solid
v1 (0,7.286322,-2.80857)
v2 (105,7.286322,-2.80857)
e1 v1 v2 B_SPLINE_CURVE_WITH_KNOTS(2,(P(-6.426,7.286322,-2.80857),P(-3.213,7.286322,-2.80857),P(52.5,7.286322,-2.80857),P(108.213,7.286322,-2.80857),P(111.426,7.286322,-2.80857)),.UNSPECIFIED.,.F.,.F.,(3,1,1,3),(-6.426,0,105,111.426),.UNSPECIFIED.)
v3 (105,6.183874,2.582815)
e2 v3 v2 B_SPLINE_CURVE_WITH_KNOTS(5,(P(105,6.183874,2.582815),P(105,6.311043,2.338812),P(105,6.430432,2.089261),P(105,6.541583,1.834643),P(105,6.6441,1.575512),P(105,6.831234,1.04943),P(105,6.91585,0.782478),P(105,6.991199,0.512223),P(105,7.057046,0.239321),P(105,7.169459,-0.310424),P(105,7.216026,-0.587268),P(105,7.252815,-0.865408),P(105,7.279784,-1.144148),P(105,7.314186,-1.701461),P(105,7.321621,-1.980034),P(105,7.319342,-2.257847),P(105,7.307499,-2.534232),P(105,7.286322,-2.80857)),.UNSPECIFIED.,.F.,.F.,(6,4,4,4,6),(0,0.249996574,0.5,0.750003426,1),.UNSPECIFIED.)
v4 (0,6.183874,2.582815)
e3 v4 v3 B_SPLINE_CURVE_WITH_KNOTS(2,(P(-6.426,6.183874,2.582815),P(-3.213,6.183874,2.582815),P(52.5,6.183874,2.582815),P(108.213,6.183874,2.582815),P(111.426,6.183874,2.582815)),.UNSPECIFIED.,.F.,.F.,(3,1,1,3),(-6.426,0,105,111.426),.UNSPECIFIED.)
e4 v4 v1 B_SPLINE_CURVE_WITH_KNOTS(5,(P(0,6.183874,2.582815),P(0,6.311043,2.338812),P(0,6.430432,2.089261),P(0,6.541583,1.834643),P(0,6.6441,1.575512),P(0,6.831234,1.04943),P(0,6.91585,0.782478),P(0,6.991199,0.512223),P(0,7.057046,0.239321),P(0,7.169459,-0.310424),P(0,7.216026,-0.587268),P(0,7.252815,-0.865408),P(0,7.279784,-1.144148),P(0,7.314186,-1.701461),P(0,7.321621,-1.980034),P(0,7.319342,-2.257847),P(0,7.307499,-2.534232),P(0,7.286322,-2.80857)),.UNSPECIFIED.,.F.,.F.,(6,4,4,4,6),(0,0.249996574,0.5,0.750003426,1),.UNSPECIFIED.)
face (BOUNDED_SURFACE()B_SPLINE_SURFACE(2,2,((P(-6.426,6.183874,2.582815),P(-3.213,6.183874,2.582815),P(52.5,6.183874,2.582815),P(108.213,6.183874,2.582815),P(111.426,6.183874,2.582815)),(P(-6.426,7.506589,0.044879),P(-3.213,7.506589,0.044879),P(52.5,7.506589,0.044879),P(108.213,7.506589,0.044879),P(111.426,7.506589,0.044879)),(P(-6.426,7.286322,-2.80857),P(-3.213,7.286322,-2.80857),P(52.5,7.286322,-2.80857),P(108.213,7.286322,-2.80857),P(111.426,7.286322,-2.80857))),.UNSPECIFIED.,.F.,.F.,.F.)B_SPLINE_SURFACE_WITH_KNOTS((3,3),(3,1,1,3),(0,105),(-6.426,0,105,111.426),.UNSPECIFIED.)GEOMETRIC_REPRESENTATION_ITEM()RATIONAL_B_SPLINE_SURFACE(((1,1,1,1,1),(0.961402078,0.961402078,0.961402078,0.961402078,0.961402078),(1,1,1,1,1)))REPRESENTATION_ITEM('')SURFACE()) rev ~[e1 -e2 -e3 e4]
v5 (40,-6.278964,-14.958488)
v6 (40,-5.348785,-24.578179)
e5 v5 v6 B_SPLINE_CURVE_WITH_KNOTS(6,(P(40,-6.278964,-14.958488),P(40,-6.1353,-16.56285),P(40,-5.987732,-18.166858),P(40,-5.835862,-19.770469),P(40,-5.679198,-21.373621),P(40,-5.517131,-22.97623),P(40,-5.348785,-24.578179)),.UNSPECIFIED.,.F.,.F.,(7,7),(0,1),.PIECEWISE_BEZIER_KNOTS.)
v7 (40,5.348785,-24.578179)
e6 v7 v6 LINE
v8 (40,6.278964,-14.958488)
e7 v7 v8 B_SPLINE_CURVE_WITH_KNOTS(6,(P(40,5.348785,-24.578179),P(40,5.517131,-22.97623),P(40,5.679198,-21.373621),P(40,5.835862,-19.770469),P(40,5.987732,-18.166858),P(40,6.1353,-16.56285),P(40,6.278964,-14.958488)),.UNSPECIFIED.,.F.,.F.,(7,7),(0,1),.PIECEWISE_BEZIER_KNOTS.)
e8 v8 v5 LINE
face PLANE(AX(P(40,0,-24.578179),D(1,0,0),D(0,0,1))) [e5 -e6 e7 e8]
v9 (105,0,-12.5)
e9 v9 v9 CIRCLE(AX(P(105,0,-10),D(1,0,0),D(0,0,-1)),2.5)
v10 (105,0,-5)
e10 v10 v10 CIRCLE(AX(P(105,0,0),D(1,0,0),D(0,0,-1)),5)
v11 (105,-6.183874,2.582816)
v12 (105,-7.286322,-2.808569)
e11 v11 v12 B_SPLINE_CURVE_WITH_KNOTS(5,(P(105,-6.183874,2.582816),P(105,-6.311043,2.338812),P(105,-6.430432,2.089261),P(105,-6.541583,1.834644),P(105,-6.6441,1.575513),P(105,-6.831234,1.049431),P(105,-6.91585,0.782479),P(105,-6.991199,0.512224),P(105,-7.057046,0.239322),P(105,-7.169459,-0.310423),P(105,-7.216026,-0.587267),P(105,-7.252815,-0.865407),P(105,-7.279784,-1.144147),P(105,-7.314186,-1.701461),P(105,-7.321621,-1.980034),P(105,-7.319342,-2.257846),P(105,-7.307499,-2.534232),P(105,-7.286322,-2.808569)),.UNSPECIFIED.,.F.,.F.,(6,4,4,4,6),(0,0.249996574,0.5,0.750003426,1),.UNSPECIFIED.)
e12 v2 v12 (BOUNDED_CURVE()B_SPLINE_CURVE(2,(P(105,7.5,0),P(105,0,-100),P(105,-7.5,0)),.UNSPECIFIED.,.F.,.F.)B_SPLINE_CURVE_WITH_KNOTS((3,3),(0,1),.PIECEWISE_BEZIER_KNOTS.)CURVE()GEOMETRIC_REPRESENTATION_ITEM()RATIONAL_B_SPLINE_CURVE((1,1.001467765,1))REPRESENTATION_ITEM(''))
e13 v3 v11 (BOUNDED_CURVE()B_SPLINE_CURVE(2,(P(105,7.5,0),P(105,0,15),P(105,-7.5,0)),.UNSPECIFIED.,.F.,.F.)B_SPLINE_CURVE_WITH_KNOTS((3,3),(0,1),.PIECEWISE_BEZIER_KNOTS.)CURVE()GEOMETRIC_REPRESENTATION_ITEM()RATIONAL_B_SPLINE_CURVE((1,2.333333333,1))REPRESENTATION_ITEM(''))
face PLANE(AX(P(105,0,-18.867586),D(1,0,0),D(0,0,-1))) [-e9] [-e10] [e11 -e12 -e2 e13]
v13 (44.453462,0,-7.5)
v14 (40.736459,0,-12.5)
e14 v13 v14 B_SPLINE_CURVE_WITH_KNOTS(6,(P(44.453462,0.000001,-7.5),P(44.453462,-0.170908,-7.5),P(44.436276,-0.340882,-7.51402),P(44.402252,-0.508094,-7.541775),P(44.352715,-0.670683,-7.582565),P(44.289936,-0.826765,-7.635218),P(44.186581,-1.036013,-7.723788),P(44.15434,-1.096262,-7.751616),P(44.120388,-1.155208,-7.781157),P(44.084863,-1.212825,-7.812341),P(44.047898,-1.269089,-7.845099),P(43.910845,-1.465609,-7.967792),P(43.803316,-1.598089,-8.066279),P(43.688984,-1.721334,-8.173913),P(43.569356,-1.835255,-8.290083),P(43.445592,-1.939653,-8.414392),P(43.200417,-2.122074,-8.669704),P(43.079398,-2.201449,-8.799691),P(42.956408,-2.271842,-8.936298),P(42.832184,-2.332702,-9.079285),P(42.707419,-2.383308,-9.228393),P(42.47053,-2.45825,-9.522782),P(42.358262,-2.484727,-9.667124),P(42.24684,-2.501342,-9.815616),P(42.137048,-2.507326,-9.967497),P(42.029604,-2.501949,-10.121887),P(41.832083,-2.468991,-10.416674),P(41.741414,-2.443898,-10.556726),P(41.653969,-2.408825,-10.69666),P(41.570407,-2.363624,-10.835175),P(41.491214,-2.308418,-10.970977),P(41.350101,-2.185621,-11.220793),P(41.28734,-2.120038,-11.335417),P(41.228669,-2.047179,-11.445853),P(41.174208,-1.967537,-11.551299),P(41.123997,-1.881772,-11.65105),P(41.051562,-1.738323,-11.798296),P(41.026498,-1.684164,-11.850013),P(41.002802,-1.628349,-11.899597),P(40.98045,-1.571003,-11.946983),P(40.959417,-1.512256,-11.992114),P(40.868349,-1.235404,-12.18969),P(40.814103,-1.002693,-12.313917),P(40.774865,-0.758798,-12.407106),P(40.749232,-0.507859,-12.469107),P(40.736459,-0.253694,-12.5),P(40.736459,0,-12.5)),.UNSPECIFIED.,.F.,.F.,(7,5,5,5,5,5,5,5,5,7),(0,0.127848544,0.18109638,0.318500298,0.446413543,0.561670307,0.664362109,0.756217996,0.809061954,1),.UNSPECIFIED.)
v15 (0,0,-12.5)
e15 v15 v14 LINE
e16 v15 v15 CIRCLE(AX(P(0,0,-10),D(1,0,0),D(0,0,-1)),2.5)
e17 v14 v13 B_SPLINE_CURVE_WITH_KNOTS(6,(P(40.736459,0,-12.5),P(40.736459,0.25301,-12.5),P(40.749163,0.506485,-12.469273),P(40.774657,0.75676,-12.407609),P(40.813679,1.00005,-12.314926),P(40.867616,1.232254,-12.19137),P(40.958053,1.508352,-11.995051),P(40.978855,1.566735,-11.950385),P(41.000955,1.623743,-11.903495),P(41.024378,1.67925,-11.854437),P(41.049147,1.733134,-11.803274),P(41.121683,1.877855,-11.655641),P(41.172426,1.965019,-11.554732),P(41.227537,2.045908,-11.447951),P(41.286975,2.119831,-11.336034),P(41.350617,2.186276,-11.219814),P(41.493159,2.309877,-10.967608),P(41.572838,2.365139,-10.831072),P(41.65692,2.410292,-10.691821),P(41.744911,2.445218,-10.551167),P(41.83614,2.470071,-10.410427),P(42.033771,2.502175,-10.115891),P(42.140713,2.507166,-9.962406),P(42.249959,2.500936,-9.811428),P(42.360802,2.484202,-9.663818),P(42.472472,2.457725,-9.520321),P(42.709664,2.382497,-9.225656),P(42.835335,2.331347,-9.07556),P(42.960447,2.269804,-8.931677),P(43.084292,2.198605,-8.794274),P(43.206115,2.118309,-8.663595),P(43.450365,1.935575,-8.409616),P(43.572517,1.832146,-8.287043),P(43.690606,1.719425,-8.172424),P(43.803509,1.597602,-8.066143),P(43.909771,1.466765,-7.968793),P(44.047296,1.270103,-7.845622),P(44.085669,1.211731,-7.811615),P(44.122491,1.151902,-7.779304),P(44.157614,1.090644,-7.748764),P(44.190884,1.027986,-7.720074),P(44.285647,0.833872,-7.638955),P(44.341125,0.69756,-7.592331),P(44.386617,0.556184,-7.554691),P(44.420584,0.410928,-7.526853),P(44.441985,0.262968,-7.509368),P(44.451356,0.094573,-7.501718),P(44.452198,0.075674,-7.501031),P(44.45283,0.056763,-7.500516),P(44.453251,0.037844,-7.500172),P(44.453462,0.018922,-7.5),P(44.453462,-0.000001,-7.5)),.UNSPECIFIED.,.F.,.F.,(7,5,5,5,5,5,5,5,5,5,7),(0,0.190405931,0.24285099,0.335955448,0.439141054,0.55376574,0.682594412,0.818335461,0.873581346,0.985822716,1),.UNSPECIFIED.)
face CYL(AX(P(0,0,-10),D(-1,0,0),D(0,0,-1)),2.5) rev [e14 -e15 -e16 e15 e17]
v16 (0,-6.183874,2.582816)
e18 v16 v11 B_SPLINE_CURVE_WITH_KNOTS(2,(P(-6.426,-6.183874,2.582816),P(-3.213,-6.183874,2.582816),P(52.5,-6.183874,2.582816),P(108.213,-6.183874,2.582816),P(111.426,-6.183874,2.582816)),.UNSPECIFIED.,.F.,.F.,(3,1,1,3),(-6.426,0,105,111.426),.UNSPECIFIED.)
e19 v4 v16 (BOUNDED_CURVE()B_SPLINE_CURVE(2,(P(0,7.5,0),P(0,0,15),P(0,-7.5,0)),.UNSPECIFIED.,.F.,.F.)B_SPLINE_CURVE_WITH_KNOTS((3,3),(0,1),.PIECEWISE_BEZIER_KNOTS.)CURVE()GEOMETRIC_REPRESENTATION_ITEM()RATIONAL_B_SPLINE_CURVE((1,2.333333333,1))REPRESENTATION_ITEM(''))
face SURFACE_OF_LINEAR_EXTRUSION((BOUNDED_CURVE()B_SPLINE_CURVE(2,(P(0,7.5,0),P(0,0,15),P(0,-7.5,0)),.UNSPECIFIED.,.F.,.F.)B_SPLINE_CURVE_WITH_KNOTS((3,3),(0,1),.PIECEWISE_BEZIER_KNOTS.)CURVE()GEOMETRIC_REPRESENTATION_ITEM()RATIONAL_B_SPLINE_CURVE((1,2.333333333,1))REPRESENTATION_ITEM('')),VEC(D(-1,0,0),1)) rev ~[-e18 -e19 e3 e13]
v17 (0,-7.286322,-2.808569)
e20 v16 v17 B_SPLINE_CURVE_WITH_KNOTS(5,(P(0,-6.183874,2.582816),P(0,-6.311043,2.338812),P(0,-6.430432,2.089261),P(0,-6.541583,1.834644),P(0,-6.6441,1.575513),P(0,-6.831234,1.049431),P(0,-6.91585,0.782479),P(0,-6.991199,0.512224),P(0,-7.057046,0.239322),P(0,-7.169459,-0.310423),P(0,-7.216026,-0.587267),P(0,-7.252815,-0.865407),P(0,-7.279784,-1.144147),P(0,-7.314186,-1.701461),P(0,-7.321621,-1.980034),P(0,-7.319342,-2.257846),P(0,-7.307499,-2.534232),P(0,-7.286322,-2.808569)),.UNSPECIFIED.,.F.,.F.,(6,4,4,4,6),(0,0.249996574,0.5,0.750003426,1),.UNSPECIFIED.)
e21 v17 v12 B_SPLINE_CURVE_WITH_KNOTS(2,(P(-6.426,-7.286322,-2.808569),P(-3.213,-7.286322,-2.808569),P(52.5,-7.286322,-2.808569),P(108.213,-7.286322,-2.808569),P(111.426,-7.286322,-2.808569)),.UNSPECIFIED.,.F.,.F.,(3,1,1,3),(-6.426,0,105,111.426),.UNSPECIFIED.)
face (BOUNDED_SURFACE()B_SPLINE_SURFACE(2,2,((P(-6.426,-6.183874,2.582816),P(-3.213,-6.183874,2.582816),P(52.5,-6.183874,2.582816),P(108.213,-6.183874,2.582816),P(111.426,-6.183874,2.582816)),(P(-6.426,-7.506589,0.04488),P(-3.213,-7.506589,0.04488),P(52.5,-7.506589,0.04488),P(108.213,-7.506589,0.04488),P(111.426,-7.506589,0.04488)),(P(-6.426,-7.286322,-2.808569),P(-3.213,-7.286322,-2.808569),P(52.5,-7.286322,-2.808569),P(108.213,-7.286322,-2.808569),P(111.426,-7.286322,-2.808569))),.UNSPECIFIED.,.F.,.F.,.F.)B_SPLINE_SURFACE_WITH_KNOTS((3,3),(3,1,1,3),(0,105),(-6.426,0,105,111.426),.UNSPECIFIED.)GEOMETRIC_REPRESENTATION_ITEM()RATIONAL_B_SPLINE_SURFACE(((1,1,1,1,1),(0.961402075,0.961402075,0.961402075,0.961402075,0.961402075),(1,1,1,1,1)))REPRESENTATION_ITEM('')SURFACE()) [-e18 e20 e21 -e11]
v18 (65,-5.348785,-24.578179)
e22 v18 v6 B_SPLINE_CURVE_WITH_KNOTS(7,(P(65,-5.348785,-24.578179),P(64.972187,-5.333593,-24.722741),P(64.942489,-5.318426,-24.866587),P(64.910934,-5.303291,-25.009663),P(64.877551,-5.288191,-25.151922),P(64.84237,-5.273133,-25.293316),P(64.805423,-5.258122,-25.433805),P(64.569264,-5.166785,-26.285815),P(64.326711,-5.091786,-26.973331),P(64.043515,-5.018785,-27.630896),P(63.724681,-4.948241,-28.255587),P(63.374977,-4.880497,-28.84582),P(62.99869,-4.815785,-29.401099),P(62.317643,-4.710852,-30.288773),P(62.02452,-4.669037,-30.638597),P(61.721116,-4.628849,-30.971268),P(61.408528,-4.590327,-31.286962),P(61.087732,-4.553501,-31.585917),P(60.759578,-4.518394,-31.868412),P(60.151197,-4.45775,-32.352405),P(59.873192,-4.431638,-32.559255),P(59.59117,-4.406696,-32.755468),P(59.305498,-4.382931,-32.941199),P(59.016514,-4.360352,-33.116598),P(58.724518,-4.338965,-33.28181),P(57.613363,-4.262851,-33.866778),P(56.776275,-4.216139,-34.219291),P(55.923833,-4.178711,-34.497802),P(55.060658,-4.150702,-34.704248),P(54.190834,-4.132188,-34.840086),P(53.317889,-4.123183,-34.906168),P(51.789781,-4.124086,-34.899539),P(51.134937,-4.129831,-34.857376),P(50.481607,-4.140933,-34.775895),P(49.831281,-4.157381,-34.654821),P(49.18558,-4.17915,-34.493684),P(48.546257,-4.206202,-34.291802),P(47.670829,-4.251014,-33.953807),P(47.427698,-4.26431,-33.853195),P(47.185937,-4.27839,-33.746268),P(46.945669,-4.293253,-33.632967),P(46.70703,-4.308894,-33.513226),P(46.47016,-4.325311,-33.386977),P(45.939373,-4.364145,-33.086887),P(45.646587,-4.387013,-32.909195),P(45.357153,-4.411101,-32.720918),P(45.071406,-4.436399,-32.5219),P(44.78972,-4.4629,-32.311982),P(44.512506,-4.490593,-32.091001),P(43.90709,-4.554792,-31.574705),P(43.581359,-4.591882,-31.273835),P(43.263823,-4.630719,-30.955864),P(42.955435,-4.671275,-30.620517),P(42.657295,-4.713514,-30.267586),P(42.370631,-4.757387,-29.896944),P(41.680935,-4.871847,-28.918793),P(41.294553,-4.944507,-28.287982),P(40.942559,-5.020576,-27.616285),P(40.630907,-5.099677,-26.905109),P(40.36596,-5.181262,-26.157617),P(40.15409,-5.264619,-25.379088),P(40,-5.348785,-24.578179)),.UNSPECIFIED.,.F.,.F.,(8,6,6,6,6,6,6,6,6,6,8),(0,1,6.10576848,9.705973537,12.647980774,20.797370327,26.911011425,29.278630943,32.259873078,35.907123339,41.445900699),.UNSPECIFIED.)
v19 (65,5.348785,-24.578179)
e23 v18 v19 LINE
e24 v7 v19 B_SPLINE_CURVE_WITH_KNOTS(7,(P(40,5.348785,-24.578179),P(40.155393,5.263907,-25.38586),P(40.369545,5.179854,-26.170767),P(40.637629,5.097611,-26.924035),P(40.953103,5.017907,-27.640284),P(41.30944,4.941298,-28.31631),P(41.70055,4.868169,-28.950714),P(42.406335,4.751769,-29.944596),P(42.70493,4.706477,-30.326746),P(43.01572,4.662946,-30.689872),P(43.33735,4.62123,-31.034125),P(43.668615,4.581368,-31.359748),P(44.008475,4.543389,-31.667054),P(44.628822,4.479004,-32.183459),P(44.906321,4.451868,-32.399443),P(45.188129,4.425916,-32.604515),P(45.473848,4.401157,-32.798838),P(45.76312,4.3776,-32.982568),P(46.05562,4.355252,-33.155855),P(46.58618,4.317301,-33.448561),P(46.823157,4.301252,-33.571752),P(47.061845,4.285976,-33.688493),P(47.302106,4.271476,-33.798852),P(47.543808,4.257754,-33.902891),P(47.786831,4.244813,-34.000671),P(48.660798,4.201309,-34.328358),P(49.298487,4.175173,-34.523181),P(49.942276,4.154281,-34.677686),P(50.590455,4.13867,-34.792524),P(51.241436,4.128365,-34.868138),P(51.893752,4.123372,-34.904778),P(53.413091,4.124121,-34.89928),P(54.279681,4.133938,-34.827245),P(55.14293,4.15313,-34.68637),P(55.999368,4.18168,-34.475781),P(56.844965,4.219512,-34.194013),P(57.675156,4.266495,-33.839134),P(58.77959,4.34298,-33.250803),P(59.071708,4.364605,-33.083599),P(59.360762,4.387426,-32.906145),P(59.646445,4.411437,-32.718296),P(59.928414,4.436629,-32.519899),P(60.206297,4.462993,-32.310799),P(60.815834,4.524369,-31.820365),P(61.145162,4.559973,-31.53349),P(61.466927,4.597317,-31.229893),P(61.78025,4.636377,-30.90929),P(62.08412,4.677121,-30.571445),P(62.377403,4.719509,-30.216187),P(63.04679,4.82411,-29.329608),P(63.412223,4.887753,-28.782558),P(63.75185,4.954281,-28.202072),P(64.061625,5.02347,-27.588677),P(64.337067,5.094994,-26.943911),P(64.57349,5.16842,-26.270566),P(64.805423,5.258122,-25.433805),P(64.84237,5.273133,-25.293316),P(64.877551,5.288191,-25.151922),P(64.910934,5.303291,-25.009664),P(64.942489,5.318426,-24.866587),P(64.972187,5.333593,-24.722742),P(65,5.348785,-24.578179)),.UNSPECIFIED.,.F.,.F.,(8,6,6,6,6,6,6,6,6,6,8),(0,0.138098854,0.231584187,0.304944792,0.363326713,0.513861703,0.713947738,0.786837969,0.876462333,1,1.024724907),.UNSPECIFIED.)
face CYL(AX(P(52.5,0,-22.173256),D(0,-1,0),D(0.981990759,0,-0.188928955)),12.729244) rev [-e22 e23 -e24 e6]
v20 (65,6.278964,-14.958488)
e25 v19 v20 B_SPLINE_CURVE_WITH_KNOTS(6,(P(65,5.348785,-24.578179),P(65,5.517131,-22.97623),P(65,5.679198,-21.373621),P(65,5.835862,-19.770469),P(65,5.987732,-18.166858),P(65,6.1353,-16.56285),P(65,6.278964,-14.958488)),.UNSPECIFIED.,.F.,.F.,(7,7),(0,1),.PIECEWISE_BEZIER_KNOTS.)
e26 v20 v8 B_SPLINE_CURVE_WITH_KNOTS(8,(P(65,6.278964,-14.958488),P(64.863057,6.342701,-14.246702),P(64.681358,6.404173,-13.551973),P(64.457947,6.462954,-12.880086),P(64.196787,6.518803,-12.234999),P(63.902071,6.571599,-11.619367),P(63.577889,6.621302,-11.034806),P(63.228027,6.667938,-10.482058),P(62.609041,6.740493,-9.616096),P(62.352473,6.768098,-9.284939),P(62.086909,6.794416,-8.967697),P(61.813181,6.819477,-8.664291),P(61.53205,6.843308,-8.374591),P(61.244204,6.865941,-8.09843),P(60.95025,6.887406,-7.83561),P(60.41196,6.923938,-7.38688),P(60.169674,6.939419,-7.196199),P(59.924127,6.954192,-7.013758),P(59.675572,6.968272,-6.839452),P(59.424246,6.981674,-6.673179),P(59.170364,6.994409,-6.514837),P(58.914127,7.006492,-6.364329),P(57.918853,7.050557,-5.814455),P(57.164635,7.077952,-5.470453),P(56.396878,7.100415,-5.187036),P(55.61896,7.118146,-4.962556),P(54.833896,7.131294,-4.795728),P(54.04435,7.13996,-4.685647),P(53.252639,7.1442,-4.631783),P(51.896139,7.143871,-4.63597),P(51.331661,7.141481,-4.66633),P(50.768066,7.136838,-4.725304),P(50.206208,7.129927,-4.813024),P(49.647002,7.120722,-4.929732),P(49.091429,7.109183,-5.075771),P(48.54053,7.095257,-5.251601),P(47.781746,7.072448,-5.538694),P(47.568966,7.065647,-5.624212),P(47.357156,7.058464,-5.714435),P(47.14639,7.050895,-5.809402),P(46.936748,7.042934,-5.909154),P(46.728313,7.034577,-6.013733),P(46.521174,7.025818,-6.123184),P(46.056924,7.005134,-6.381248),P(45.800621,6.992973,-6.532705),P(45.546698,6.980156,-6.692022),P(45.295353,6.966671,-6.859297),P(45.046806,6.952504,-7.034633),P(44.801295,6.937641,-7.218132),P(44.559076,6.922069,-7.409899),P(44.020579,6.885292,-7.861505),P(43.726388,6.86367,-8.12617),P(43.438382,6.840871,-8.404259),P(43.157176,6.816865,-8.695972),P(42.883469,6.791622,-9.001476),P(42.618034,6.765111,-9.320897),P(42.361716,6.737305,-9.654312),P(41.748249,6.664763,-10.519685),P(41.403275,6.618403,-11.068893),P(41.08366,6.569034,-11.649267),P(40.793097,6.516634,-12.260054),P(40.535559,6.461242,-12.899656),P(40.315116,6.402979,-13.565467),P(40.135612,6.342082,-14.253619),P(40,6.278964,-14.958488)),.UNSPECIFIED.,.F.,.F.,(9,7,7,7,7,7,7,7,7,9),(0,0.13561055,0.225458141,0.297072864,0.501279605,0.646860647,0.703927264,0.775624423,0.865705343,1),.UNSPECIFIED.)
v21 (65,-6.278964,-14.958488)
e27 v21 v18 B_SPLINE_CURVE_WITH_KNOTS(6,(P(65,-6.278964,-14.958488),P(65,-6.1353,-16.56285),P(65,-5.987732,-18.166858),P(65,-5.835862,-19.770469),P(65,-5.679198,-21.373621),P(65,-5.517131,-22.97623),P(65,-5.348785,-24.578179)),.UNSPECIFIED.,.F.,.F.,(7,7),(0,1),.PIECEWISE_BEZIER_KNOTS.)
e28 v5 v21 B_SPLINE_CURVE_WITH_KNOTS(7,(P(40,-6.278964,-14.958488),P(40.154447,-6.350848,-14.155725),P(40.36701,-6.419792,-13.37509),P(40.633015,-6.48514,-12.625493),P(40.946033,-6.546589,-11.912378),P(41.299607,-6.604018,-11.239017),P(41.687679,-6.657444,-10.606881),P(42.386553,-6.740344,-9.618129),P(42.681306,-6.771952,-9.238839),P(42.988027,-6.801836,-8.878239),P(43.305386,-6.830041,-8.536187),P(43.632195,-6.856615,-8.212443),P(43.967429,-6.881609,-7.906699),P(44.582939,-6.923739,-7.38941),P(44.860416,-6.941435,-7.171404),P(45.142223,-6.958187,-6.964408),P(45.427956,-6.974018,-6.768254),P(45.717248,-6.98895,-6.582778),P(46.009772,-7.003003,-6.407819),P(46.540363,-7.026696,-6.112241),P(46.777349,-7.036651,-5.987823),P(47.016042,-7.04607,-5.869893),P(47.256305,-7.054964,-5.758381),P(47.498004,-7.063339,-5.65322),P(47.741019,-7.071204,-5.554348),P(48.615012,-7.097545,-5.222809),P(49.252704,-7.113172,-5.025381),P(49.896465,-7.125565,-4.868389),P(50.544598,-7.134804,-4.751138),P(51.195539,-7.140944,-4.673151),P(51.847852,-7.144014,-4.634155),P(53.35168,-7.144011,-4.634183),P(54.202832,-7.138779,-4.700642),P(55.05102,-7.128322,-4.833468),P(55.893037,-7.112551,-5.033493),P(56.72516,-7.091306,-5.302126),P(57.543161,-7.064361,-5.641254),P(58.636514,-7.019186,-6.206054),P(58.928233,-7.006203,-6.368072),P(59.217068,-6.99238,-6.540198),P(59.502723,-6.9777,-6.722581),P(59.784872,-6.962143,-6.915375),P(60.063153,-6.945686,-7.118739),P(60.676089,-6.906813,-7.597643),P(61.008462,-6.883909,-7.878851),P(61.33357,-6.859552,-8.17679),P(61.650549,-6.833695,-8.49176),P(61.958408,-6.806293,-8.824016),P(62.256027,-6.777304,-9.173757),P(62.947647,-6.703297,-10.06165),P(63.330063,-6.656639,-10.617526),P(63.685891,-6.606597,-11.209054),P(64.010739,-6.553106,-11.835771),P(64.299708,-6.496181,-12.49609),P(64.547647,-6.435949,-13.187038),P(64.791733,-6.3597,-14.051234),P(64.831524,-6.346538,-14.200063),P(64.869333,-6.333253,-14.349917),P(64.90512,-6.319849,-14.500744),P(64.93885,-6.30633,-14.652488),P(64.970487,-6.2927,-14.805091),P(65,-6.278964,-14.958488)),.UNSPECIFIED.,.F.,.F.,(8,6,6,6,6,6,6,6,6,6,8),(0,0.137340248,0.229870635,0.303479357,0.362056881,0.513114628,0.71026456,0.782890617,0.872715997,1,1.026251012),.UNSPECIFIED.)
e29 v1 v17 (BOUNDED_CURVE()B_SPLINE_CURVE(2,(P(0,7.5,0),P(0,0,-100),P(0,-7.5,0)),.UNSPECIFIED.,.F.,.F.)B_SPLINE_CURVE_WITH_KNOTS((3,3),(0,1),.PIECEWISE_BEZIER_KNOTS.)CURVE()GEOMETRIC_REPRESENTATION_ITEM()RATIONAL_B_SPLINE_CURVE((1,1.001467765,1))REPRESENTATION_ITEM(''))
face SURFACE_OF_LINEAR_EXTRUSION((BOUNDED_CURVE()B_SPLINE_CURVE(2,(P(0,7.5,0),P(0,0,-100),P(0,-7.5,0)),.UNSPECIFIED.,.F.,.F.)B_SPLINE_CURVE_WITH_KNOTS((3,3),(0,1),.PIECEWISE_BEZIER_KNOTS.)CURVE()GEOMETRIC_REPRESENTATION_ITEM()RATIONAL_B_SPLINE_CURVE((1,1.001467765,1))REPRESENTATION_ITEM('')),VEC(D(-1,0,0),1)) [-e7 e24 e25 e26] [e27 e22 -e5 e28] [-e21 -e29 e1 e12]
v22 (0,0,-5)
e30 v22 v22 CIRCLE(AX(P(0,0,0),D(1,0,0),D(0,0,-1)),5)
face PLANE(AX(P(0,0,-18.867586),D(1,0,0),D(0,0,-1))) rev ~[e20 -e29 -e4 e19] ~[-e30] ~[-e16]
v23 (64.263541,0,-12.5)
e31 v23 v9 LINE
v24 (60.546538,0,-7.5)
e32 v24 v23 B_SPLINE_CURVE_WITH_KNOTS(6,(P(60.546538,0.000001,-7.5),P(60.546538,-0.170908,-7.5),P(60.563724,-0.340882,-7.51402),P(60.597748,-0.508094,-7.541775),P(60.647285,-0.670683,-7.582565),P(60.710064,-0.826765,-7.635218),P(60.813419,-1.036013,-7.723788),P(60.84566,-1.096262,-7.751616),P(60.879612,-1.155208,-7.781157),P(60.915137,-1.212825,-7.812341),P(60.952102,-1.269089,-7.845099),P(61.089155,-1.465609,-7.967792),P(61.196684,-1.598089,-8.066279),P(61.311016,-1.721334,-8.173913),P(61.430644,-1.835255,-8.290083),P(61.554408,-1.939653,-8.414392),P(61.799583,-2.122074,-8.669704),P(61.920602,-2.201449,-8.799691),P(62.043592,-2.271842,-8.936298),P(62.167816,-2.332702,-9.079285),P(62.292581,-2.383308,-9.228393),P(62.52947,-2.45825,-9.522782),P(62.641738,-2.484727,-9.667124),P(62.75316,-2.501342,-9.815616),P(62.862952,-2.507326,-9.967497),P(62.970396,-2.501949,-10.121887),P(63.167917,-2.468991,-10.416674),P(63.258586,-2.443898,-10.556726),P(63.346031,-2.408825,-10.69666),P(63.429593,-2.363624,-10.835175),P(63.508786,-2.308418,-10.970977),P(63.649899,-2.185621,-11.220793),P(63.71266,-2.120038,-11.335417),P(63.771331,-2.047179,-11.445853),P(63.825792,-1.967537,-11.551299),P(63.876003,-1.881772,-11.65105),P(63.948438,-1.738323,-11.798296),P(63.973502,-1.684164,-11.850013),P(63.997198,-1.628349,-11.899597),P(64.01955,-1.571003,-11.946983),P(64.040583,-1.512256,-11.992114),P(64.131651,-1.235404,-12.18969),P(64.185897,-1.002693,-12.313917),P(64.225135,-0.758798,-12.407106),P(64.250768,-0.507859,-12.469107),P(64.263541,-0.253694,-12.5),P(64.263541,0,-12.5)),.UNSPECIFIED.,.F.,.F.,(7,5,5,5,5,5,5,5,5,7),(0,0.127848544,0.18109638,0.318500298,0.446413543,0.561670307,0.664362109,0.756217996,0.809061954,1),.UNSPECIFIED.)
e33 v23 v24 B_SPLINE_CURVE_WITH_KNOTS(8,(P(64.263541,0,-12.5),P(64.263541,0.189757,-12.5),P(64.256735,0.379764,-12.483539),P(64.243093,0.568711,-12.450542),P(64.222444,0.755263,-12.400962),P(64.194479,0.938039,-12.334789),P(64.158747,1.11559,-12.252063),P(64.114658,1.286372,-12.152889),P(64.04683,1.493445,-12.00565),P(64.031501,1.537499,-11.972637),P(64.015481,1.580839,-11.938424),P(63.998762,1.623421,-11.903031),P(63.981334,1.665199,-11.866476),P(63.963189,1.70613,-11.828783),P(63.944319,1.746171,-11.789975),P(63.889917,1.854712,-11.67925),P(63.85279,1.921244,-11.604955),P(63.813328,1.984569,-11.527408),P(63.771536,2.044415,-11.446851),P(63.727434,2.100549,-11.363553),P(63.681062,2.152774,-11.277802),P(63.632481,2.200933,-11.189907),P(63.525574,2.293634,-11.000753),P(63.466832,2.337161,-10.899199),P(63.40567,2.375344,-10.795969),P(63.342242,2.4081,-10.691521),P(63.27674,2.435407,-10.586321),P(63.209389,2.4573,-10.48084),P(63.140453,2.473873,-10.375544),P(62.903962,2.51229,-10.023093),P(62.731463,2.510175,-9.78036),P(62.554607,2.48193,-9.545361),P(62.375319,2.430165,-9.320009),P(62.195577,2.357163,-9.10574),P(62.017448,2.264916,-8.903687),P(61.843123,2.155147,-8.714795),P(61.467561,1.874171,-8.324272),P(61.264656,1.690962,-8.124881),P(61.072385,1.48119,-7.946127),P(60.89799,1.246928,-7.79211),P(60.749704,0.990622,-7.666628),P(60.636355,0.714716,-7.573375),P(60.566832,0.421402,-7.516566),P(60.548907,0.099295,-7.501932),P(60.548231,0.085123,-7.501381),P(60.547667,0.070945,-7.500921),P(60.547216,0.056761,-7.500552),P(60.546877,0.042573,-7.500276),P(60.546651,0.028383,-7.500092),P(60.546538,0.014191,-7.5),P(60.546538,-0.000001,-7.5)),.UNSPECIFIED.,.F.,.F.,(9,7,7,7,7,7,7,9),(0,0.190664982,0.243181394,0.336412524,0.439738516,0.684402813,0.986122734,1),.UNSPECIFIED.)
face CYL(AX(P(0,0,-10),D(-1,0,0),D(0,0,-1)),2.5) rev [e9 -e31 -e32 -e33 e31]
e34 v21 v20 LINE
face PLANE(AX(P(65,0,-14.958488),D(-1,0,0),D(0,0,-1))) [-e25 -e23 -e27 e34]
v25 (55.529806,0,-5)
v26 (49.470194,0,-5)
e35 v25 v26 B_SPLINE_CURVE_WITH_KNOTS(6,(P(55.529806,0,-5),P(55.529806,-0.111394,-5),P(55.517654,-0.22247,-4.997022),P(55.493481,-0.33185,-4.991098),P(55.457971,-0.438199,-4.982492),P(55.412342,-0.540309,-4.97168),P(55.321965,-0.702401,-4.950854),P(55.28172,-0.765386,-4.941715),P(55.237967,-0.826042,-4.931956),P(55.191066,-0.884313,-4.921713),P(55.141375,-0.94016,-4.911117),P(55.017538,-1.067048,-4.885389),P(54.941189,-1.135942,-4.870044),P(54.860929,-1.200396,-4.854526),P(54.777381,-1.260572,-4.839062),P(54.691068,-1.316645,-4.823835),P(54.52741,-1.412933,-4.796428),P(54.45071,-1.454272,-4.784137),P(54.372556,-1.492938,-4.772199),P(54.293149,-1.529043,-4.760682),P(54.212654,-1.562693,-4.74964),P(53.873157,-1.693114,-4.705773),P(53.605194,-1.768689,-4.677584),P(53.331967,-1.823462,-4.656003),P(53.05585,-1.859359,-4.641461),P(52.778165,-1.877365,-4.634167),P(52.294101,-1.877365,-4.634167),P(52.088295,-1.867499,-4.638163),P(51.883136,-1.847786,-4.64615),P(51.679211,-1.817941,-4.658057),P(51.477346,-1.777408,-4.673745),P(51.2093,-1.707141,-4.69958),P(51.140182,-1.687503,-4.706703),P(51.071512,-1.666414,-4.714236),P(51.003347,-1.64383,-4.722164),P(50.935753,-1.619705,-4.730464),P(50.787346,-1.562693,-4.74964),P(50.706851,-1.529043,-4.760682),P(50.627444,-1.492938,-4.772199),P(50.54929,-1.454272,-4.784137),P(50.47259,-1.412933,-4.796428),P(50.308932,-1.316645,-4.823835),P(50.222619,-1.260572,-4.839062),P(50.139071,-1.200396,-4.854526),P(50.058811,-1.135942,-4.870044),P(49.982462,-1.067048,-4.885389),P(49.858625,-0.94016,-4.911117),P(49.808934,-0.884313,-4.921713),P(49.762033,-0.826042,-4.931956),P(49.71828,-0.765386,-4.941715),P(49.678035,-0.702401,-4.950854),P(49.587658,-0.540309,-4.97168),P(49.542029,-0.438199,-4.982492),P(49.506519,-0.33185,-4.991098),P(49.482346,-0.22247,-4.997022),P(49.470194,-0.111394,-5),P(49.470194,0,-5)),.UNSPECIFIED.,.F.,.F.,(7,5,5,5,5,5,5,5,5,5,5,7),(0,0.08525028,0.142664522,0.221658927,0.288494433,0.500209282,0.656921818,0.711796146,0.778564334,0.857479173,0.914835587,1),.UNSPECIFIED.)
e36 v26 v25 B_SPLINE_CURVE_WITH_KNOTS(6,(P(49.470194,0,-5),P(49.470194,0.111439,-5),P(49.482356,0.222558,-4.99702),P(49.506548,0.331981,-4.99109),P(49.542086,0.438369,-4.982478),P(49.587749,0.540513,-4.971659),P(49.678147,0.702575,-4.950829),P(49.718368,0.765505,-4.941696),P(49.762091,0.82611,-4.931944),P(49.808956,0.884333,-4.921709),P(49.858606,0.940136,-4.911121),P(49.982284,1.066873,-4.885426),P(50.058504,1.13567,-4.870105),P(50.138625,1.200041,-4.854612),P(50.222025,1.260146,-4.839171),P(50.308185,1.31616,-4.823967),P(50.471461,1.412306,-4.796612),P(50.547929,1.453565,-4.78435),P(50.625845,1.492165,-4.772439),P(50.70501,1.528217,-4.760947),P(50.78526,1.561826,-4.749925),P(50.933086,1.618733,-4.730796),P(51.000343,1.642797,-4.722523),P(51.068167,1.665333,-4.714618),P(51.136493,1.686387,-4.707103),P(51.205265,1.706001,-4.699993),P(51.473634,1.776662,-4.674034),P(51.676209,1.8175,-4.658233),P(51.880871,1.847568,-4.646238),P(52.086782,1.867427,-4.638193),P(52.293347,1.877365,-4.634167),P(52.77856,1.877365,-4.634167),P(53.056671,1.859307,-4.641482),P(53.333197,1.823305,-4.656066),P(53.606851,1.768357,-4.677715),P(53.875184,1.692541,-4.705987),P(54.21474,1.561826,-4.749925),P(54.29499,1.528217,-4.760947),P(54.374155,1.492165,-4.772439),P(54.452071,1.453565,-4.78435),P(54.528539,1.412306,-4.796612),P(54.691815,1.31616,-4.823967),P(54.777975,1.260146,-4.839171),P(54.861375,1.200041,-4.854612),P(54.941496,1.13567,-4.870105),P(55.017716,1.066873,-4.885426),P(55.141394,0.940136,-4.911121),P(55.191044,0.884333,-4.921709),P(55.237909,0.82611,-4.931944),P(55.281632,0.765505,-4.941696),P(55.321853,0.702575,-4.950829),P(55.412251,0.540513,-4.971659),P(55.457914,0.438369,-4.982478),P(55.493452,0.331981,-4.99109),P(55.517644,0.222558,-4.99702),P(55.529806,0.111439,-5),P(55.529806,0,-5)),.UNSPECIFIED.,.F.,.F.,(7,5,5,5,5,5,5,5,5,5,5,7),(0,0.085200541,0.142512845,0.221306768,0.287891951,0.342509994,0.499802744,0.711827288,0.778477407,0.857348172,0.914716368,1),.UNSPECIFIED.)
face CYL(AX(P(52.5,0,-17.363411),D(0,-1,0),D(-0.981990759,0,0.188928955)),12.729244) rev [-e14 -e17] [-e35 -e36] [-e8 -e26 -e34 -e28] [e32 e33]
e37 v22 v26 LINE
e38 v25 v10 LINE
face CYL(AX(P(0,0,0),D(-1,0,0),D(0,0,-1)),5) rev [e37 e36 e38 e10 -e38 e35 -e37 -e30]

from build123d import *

# Parameters (mm, degrees)
SKETCH1_R               = 5
SKETCH1_R_2             = 2.5
BOSS_EXTRUDE1_DEPTH     = 105
FILLET1_R               = 10
CUT_EXTRUDE1_DEPTH      = 117.542660484
CUT_EXTRUDE1_DEPTH_BACK = 117.542660484


with BuildPart() as part:
    # Sketch1 → Boss-Extrude1 (new body)
    with BuildSketch(Plane(origin=(0, 0, 0), x_dir=(0, 0, -1), z_dir=(1, 0, 0))):
        with BuildLine():
            add(Edge.make_bspline(
                [(3.73e-07, 7.5), (-15, 0), (-3.73e-07, -7.5)],
                knots=[0, 0, 0, 1, 1, 1], degree=2, weights=[1, 2.333333333, 1]))
            add(Edge.make_bspline(
                [(3.73e-07, 7.5), (100, 0), (-3.73e-07, -7.5)],
                knots=[0, 0, 0, 1, 1, 1], degree=2, weights=[1, 1.001467765, 1]))
        make_face()
        Circle(SKETCH1_R, mode=Mode.SUBTRACT)
        with Locations((10, 0)):
            Circle(SKETCH1_R_2, mode=Mode.SUBTRACT)
    extrude(amount=BOSS_EXTRUDE1_DEPTH)

    # Fillet1
    fillet1_edges = [part.edges().sort_by_distance(p)[0] for p in [
        (52.5, 7.5, -3.73e-07),
        (52.5, -7.5, 3.73e-07),
    ]]
    fillet(fillet1_edges, radius=FILLET1_R)

    # Sketch2 → Cut-Extrude1 (cut, two sides)
    with BuildSketch(Plane(origin=(0, 0, 0), x_dir=(1, 0, 0), z_dir=(0, 1, 0))) as cut_extrude1_sk:
        with BuildLine():
            ThreePointArc((65, 24.578179161), (52.5, 34.902500415), (40, 24.578179161))
            Line((40, 24.578179161), (40, 19.76833361))
            Line((40, 19.76833361), (40, 14.958488059))
            ThreePointArc((40, 14.958488059), (52.5, 4.634166805), (65, 14.958488059))
            Line((65, 14.958488059), (65, 19.76833361))
            Line((65, 19.76833361), (65, 24.578179161))
        make_face()
    extrude(amount=CUT_EXTRUDE1_DEPTH, mode=Mode.SUBTRACT)
    extrude(cut_extrude1_sk.sketch, amount=-CUT_EXTRUDE1_DEPTH_BACK, mode=Mode.SUBTRACT)


solid = part.part
